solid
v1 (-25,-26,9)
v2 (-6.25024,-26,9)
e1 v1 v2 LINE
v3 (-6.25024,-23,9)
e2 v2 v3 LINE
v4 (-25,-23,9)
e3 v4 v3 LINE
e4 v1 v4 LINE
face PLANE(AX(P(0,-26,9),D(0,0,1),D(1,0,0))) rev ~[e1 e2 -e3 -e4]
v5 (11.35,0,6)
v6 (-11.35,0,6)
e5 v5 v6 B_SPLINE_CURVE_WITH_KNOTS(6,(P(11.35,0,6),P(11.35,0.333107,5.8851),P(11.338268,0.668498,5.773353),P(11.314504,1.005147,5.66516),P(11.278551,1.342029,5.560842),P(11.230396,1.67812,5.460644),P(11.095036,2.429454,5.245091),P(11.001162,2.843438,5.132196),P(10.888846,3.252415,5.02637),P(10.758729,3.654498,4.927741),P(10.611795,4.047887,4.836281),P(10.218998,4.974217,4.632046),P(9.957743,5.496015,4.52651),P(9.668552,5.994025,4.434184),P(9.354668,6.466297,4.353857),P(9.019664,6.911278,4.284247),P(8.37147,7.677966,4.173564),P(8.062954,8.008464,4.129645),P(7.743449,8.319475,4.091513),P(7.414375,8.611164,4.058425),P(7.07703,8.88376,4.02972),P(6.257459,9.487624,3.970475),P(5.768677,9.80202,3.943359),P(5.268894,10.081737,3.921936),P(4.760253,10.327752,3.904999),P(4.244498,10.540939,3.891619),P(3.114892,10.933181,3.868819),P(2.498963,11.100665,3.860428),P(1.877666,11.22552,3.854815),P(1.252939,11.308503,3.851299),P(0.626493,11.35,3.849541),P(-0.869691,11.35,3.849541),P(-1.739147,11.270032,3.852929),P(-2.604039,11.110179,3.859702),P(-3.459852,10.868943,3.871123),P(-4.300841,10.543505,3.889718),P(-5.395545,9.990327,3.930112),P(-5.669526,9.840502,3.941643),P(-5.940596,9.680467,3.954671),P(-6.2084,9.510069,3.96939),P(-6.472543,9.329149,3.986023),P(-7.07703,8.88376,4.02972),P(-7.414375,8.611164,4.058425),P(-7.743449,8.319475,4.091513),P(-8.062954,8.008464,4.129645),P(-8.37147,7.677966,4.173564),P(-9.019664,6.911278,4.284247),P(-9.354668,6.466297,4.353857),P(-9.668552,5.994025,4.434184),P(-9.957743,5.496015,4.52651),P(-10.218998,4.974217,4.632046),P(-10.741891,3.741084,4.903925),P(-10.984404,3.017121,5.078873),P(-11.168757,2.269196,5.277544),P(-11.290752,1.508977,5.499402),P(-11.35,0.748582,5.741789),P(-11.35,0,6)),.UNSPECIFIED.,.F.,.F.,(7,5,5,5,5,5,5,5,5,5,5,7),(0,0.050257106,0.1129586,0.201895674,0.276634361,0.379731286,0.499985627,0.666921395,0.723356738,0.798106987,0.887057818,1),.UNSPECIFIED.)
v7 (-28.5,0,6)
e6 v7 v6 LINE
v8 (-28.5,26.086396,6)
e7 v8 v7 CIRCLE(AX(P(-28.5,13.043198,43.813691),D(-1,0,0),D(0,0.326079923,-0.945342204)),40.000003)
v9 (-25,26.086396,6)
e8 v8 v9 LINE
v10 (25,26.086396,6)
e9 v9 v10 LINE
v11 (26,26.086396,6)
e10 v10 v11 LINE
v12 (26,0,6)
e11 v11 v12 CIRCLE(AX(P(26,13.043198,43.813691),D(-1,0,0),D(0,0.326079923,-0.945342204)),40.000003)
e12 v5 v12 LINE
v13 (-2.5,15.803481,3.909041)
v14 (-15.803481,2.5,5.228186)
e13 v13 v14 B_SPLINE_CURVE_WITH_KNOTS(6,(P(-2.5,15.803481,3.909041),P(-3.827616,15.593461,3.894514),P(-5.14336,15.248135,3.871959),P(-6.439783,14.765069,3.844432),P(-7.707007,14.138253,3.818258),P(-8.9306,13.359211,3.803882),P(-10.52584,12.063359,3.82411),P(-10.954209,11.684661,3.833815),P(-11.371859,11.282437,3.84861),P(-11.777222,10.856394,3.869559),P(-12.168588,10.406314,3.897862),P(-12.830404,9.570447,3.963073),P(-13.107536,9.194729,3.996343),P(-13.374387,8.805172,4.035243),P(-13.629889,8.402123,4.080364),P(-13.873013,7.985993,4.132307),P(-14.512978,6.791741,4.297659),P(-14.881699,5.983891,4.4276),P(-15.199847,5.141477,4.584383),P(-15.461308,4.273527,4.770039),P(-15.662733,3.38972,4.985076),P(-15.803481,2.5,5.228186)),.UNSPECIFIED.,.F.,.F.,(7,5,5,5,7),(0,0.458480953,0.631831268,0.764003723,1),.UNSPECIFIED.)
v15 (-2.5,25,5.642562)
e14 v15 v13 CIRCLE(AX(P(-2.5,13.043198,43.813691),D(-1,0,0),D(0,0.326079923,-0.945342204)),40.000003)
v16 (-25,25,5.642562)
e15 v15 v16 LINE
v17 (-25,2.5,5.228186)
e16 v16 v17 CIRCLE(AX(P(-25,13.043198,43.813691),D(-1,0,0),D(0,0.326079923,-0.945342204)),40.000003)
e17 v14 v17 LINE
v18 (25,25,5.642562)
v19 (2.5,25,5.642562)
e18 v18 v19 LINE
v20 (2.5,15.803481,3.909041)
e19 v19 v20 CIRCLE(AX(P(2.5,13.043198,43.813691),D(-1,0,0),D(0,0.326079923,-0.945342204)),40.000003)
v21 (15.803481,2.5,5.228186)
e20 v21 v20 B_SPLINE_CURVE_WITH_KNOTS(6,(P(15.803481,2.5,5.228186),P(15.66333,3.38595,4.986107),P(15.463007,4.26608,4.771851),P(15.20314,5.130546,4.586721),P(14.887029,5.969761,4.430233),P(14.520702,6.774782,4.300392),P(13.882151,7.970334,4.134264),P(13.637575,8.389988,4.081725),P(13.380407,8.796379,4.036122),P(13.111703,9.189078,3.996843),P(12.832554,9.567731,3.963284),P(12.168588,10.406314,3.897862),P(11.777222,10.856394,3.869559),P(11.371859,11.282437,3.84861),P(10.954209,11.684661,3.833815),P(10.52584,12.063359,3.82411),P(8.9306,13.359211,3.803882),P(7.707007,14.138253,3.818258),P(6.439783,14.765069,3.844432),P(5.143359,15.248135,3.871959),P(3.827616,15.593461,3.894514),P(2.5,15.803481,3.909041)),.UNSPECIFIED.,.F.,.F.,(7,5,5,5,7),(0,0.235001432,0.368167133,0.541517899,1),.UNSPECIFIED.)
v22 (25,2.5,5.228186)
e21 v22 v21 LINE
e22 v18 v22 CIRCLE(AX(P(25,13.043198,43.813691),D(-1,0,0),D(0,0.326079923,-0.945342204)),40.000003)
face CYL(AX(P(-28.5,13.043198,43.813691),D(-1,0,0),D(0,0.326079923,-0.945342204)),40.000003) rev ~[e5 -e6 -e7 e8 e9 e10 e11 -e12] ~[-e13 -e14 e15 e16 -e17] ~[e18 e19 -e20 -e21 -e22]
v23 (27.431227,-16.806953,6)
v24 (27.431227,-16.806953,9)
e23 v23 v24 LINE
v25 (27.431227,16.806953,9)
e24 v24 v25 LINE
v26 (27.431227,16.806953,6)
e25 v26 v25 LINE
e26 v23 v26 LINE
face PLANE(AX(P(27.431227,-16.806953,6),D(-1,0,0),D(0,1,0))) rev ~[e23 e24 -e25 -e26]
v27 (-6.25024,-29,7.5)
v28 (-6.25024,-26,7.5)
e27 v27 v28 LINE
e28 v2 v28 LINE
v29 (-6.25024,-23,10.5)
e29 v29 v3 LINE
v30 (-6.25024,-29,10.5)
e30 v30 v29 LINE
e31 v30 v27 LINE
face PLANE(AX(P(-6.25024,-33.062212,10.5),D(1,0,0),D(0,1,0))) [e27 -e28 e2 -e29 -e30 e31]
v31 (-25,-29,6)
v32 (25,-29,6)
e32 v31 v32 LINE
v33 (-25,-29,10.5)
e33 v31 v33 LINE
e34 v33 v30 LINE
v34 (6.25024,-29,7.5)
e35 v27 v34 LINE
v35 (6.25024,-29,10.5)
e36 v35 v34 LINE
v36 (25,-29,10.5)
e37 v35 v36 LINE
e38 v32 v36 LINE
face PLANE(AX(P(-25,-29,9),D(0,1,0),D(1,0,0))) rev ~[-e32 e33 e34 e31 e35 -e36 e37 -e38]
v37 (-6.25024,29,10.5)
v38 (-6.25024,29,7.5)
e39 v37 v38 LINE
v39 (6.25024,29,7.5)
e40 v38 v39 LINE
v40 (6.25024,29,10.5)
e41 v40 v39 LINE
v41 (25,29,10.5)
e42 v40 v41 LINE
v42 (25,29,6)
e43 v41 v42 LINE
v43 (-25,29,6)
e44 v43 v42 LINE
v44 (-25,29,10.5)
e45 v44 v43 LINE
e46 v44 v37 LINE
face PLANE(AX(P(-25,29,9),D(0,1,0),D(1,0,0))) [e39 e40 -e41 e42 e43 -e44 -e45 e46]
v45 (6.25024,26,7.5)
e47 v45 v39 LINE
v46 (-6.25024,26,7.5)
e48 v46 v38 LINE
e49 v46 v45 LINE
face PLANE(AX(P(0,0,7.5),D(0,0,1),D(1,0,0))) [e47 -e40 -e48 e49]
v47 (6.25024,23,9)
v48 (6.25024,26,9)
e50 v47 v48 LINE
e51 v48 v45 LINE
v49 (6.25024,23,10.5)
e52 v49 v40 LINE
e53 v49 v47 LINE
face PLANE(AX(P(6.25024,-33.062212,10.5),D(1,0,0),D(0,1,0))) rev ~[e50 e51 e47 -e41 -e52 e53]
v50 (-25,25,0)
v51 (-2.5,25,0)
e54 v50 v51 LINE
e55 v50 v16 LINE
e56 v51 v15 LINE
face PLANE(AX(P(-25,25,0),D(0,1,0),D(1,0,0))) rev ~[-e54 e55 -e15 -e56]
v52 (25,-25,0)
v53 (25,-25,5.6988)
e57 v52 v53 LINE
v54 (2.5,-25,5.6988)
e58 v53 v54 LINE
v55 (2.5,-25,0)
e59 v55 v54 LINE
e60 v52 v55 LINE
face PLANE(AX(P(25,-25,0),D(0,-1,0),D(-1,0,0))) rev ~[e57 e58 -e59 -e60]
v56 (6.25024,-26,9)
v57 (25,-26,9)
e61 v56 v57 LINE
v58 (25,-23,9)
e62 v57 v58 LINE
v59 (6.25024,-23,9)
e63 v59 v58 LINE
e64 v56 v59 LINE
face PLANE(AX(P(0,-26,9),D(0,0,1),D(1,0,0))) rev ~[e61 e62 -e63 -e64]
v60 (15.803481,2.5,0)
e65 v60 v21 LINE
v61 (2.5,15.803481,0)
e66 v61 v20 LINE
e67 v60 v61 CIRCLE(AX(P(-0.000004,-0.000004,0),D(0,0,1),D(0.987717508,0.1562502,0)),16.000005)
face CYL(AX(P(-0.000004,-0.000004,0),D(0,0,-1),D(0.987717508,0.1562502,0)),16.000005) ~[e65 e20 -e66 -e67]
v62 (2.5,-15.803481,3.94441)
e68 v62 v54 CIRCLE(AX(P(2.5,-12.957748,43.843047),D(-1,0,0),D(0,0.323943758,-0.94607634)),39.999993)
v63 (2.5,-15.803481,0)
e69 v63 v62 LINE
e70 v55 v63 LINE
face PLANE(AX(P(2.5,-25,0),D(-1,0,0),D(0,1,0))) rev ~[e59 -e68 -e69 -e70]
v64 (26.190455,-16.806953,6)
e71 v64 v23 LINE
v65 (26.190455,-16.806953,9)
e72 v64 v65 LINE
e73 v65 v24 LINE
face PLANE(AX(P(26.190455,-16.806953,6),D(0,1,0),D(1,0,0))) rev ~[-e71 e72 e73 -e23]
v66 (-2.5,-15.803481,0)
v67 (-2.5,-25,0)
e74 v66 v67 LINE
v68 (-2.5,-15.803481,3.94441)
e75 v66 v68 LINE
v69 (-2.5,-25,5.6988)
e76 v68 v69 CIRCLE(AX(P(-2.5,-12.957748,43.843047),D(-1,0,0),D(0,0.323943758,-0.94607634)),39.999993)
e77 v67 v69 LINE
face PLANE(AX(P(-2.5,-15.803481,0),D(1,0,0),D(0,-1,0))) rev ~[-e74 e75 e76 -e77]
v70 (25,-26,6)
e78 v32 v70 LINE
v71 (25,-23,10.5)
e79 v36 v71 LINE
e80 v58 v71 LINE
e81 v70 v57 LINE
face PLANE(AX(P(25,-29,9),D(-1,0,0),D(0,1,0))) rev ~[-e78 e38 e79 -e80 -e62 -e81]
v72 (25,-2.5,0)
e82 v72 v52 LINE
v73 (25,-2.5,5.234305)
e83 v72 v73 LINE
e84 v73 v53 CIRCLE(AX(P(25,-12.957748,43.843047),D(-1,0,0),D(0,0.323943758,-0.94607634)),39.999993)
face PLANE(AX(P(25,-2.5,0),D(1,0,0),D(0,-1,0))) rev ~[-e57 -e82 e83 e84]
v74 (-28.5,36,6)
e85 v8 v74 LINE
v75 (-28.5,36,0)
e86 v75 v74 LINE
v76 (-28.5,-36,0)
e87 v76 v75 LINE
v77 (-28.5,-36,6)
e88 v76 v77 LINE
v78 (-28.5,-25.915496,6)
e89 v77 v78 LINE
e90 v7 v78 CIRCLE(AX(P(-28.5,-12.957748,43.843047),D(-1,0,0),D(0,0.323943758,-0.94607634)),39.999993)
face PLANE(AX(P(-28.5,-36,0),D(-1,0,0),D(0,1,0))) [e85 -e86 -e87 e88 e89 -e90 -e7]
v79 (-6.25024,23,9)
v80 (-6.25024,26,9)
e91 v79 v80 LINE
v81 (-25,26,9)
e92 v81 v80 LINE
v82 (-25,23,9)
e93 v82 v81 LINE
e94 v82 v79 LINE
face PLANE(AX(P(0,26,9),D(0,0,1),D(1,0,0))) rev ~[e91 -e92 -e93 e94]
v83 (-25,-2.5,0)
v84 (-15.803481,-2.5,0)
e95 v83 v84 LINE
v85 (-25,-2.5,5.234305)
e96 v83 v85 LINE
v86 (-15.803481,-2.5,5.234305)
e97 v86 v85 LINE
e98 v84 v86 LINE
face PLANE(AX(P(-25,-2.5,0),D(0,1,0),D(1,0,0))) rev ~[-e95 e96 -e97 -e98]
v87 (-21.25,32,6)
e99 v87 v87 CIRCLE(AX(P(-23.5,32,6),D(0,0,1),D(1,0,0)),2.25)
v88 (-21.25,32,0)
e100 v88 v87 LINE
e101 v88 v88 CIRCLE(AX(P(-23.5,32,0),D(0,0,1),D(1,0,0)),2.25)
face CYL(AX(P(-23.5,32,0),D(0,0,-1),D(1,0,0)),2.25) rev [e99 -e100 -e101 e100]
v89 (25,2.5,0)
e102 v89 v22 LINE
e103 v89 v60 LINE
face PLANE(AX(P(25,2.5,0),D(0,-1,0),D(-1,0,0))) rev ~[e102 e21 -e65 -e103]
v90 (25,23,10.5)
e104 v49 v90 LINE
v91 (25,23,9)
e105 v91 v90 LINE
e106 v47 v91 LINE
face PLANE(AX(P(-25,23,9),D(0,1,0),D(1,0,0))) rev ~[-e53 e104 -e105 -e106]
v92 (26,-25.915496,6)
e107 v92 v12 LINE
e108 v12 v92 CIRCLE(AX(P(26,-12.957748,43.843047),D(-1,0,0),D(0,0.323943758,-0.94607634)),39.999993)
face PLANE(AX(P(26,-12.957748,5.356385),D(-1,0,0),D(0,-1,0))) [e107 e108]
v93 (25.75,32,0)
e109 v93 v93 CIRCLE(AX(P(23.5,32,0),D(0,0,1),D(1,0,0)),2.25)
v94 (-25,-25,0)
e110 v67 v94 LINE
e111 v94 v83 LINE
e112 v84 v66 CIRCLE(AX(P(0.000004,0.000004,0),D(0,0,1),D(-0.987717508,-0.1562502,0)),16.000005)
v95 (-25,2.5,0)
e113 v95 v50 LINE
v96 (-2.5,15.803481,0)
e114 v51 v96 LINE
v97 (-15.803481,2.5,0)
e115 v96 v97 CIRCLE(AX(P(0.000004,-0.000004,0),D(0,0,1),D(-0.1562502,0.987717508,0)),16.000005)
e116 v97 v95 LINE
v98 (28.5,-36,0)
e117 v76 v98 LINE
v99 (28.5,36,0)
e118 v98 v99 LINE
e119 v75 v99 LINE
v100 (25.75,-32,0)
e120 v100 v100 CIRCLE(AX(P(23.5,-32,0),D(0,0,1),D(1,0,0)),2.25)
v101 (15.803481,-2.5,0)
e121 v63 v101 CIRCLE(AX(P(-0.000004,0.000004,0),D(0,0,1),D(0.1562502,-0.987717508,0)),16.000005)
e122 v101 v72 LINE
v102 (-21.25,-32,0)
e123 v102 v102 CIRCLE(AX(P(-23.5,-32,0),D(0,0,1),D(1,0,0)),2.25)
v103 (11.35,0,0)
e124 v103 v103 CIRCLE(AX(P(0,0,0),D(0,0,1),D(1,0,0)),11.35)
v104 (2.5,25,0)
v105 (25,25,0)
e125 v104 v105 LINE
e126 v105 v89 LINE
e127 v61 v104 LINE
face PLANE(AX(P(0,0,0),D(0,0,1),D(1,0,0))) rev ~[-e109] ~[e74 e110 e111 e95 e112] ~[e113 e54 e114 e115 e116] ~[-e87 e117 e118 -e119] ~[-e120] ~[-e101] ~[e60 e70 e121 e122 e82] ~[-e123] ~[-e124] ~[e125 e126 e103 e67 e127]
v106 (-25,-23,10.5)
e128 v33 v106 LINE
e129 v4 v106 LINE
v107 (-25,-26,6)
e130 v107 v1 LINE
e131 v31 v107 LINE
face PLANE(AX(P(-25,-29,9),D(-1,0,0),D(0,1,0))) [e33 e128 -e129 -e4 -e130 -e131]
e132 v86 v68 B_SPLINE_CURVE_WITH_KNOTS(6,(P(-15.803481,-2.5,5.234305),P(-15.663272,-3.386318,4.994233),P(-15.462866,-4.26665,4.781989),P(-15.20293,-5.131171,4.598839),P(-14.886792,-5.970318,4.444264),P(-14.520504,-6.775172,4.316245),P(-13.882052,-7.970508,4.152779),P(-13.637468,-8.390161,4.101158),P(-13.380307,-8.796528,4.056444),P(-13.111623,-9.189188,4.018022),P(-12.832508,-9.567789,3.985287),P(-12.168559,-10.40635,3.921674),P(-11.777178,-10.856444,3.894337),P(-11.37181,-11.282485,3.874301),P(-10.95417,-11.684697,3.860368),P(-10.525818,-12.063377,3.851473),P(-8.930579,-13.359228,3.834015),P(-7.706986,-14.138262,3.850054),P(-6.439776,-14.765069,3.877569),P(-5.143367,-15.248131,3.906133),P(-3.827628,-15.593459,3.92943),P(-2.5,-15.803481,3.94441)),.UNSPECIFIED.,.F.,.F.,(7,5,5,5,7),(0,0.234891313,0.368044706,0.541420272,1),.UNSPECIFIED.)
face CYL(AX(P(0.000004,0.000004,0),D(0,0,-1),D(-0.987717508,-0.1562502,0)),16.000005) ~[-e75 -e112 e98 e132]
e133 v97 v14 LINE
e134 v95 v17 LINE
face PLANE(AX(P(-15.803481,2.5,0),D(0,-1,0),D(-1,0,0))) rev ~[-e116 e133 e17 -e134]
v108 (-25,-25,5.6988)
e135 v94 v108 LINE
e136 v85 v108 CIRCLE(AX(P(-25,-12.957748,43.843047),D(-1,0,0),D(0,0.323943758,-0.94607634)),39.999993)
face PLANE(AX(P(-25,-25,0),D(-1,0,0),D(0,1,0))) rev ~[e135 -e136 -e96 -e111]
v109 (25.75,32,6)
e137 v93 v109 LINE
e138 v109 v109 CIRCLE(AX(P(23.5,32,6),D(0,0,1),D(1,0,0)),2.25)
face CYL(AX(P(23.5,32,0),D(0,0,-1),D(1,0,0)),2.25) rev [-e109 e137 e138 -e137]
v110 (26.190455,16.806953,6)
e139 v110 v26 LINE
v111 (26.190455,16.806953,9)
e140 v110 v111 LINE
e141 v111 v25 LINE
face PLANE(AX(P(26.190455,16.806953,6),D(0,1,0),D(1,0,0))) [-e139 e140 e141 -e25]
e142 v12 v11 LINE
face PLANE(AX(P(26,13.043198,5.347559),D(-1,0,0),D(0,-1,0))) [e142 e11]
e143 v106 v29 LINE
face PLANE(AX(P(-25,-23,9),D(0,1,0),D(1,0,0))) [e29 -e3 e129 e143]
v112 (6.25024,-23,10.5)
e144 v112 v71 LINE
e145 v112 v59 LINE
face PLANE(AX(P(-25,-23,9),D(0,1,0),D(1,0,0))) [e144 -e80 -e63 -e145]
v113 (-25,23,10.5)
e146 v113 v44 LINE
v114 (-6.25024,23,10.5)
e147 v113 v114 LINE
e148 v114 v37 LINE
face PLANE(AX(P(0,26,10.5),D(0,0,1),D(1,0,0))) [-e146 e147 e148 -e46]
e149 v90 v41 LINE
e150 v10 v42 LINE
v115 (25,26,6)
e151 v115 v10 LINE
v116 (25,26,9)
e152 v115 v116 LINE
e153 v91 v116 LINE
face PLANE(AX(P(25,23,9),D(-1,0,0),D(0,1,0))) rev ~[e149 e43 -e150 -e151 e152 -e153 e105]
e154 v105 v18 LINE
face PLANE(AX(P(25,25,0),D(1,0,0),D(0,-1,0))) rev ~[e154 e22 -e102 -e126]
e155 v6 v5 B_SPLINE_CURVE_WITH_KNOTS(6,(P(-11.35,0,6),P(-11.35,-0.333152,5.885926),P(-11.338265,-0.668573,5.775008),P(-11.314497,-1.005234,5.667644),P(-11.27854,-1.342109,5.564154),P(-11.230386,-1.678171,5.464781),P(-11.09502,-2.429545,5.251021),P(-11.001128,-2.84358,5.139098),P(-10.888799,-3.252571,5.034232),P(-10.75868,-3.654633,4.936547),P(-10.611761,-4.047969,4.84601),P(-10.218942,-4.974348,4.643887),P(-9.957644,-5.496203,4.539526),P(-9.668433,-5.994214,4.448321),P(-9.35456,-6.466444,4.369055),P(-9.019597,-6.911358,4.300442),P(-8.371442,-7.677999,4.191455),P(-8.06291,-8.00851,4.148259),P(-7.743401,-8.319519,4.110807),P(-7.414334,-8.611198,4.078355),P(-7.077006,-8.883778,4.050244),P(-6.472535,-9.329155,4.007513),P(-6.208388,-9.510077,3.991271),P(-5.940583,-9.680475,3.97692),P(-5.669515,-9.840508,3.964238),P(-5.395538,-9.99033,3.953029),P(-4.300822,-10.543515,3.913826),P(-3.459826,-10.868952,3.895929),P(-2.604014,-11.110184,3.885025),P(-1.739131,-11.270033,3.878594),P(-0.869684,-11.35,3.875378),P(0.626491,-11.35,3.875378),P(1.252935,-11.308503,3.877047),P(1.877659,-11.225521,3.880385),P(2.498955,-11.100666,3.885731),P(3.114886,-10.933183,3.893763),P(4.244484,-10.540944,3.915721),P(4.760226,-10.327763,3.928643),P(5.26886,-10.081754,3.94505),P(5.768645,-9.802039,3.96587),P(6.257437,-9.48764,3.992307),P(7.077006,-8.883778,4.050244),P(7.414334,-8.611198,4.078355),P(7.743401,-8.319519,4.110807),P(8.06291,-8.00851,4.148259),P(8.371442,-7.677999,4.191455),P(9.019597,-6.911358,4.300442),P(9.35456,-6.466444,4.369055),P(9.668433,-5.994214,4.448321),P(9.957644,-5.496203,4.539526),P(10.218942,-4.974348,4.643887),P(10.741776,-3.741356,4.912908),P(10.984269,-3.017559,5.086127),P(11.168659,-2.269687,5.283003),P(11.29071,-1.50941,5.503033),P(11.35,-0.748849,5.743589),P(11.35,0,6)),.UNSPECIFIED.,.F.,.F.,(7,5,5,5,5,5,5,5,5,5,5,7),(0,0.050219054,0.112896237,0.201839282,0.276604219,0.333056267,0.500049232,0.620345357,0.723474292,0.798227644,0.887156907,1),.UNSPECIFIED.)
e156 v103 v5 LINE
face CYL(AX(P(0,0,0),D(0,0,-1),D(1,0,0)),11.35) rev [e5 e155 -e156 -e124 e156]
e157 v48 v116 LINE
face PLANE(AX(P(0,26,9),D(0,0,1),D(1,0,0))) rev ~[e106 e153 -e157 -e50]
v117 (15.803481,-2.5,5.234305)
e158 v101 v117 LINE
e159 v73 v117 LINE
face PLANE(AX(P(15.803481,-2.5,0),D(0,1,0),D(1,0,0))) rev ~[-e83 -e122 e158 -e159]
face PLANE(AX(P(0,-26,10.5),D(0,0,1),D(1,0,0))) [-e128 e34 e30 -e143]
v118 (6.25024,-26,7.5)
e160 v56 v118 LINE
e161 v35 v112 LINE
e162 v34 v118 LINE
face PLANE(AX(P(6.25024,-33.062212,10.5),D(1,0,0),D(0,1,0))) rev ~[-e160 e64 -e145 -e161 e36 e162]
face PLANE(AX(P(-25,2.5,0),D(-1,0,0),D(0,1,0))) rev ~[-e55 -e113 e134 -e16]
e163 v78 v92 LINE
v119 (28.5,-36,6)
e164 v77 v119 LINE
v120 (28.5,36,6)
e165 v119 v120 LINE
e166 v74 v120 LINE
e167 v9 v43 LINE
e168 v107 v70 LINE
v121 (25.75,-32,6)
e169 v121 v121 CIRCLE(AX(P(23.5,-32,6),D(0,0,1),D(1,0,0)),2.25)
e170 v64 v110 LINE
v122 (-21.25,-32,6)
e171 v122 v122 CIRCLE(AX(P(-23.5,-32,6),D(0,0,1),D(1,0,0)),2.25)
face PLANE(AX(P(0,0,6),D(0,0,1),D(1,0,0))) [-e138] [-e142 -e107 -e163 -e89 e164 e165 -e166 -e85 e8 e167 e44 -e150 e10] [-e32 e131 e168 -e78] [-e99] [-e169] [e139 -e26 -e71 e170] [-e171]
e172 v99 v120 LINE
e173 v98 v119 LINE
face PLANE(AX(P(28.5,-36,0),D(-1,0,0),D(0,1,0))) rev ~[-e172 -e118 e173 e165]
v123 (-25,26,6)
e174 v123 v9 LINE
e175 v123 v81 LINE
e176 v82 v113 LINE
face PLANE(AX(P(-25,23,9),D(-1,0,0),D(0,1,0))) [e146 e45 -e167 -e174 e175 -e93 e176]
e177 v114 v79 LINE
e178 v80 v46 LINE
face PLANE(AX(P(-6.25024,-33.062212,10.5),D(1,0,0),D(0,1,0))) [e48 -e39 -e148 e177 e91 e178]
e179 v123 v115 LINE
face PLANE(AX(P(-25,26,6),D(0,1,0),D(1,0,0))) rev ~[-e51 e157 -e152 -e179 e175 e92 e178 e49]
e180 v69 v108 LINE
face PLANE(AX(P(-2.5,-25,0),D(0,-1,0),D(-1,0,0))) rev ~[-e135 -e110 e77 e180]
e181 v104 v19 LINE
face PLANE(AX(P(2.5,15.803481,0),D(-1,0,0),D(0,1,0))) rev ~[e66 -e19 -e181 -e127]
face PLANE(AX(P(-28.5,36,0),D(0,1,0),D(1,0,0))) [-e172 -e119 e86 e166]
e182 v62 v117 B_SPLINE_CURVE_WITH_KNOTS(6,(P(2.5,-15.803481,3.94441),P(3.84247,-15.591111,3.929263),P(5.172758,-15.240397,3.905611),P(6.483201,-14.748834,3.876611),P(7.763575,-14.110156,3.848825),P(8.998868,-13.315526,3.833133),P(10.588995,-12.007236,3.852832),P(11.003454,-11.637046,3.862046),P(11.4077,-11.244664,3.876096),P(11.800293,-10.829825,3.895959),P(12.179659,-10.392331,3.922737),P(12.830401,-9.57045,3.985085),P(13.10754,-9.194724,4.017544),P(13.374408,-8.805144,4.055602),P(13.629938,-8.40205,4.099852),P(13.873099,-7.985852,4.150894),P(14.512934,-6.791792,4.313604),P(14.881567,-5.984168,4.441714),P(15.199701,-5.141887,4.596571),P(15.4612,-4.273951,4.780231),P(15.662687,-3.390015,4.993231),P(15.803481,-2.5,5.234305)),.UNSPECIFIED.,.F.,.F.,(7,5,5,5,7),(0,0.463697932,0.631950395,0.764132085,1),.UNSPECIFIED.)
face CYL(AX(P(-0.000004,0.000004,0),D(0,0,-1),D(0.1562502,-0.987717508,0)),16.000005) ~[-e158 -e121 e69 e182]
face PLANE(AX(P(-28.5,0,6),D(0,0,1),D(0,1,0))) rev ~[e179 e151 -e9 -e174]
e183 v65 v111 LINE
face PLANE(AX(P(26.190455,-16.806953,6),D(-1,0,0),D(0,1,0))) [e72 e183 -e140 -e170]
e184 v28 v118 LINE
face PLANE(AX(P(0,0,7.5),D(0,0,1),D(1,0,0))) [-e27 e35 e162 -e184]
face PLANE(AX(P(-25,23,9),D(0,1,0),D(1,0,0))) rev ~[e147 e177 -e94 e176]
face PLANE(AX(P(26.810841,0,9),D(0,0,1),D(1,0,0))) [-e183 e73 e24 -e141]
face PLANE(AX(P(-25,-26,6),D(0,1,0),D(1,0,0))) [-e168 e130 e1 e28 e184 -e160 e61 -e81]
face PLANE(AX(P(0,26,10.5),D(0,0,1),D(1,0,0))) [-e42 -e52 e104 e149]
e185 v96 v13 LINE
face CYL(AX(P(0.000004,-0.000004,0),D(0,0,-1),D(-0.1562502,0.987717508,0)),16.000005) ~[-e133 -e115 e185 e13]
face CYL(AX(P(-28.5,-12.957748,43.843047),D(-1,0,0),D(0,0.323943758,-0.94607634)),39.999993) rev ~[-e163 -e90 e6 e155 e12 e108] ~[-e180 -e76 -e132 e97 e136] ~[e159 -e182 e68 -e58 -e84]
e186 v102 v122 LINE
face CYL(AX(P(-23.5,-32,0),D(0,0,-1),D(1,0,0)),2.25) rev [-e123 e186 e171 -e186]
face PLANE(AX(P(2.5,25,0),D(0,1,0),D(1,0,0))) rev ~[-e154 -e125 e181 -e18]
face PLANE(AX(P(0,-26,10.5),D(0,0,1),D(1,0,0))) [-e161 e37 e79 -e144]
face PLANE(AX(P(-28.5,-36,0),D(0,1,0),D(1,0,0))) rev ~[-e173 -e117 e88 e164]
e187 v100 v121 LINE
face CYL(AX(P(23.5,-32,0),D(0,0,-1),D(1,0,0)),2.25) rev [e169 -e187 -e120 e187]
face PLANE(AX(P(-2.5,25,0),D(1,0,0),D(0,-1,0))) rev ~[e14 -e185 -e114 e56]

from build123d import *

# Parameters (mm, degrees)
F0_W      = 57
F0_H      = 72
F0_R      = 2.25
F0_R_2    = 11.35
F1_DEPTH  = 6
F2_W      = 50
F2_H      = 3
F3_DEPTH  = 3
F4_W      = 50
F4_H      = 6
F5_DEPTH  = 1.5
F6_W      = 50
F6_H      = 6
F7_DEPTH  = 1.5
F8_W      = 12.50048
F8_H      = 66.124424
F9_DEPTH  = 3
F10_W     = 1.240771
F10_H     = 33.613906
F11_DEPTH = 3
F13_DEPTH = 54.5


with BuildPart() as f1:
    # F0 (on Top) → F1 (new body)
    with BuildSketch(Plane.XY):
        Rectangle(F0_W, F0_H)
        with Locations((-23.5, -32)):
            Circle(F0_R, mode=Mode.SUBTRACT)
        with BuildLine():
            Line((-25, -2.5), (-15.803481, -2.5))
            ThreePointArc((-15.803481, -2.5), (-11.313708, -11.313708), (-2.5, -15.803481))
            Line((-2.5, -15.803481), (-2.5, -25))
            Line((-2.5, -25), (-25, -25))
            Line((-25, -25), (-25, -2.5))
        make_face(mode=Mode.SUBTRACT)
        with Locations((23.5, -32)):
            Circle(F0_R, mode=Mode.SUBTRACT)
        with BuildLine():
            Line((15.803481, -2.5), (25, -2.5))
            Line((25, -2.5), (25, -25))
            Line((25, -25), (2.5, -25))
            Line((2.5, -25), (2.5, -15.803481))
            ThreePointArc((2.5, -15.803481), (11.313708, -11.313708), (15.803481, -2.5))
        make_face(mode=Mode.SUBTRACT)
        with BuildLine():
            Line((-2.5, 25), (-2.5, 15.803481))
            ThreePointArc((-2.5, 15.803481), (-11.313708, 11.313708), (-15.803481, 2.5))
            Line((-15.803481, 2.5), (-25, 2.5))
            Line((-25, 2.5), (-25, 25))
            Line((-25, 25), (-2.5, 25))
        make_face(mode=Mode.SUBTRACT)
        with Locations((-23.5, 32)):
            Circle(F0_R, mode=Mode.SUBTRACT)
        Circle(F0_R_2, mode=Mode.SUBTRACT)
        with BuildLine():
            Line((2.5, 25), (25, 25))
            Line((25, 25), (25, 2.5))
            Line((25, 2.5), (15.803481, 2.5))
            ThreePointArc((15.803481, 2.5), (11.313708, 11.313708), (2.5, 15.803481))
            Line((2.5, 15.803481), (2.5, 25))
        make_face(mode=Mode.SUBTRACT)
        with Locations((23.5, 32)):
            Circle(F0_R, mode=Mode.SUBTRACT)
    extrude(amount=F1_DEPTH)

    # F2 (on face) → F3 (join)
    with BuildSketch(Plane.XY.offset(6)):
        with Locations((0, -27.5)):
            Rectangle(F2_W, F2_H)
        with Locations((0, 27.5)):
            Rectangle(F2_W, F2_H)
    extrude(amount=F3_DEPTH)

    # F4 (on face) → F5 (join)
    with BuildSketch(Plane.XY.offset(9)):
        with Locations((0, -26)):
            Rectangle(F4_W, F4_H)
    extrude(amount=F5_DEPTH)

    # F6 (on face) → F7 (join)
    with BuildSketch(Plane.XY.offset(9)):
        with Locations((0, 26)):
            Rectangle(F6_W, F6_H)
    extrude(amount=F7_DEPTH)

    # F8 (on face) → F9 (cut)
    with BuildSketch(Plane.XY.offset(10.5)):
        Rectangle(F8_W, F8_H)
    extrude(amount=-F9_DEPTH, mode=Mode.SUBTRACT)

    # F10 (on face) → F11 (join)
    with BuildSketch(Plane.XY.offset(6)):
        with Locations((26.810841, 0)):
            Rectangle(F10_W, F10_H)
    extrude(amount=F11_DEPTH)

    # F12 (on face) → F13 (cut)
    with BuildSketch(Plane(origin=(-28.5, 0, 0), x_dir=(0, -1, 0), z_dir=(-1, 0, 0))):
        with BuildLine():
            Line((0, 6), (-26.086396, 6))
            ThreePointArc((-26.086396, 6), (-13.043198, 3.813688), (0, 6))
        make_face()
        with BuildLine():
            Line((25.915496, 6), (0, 6))
            ThreePointArc((0, 6), (12.957748, 3.843054), (25.915496, 6))
        make_face()
    extrude(amount=-F13_DEPTH, mode=Mode.SUBTRACT)


solid = f1.part
